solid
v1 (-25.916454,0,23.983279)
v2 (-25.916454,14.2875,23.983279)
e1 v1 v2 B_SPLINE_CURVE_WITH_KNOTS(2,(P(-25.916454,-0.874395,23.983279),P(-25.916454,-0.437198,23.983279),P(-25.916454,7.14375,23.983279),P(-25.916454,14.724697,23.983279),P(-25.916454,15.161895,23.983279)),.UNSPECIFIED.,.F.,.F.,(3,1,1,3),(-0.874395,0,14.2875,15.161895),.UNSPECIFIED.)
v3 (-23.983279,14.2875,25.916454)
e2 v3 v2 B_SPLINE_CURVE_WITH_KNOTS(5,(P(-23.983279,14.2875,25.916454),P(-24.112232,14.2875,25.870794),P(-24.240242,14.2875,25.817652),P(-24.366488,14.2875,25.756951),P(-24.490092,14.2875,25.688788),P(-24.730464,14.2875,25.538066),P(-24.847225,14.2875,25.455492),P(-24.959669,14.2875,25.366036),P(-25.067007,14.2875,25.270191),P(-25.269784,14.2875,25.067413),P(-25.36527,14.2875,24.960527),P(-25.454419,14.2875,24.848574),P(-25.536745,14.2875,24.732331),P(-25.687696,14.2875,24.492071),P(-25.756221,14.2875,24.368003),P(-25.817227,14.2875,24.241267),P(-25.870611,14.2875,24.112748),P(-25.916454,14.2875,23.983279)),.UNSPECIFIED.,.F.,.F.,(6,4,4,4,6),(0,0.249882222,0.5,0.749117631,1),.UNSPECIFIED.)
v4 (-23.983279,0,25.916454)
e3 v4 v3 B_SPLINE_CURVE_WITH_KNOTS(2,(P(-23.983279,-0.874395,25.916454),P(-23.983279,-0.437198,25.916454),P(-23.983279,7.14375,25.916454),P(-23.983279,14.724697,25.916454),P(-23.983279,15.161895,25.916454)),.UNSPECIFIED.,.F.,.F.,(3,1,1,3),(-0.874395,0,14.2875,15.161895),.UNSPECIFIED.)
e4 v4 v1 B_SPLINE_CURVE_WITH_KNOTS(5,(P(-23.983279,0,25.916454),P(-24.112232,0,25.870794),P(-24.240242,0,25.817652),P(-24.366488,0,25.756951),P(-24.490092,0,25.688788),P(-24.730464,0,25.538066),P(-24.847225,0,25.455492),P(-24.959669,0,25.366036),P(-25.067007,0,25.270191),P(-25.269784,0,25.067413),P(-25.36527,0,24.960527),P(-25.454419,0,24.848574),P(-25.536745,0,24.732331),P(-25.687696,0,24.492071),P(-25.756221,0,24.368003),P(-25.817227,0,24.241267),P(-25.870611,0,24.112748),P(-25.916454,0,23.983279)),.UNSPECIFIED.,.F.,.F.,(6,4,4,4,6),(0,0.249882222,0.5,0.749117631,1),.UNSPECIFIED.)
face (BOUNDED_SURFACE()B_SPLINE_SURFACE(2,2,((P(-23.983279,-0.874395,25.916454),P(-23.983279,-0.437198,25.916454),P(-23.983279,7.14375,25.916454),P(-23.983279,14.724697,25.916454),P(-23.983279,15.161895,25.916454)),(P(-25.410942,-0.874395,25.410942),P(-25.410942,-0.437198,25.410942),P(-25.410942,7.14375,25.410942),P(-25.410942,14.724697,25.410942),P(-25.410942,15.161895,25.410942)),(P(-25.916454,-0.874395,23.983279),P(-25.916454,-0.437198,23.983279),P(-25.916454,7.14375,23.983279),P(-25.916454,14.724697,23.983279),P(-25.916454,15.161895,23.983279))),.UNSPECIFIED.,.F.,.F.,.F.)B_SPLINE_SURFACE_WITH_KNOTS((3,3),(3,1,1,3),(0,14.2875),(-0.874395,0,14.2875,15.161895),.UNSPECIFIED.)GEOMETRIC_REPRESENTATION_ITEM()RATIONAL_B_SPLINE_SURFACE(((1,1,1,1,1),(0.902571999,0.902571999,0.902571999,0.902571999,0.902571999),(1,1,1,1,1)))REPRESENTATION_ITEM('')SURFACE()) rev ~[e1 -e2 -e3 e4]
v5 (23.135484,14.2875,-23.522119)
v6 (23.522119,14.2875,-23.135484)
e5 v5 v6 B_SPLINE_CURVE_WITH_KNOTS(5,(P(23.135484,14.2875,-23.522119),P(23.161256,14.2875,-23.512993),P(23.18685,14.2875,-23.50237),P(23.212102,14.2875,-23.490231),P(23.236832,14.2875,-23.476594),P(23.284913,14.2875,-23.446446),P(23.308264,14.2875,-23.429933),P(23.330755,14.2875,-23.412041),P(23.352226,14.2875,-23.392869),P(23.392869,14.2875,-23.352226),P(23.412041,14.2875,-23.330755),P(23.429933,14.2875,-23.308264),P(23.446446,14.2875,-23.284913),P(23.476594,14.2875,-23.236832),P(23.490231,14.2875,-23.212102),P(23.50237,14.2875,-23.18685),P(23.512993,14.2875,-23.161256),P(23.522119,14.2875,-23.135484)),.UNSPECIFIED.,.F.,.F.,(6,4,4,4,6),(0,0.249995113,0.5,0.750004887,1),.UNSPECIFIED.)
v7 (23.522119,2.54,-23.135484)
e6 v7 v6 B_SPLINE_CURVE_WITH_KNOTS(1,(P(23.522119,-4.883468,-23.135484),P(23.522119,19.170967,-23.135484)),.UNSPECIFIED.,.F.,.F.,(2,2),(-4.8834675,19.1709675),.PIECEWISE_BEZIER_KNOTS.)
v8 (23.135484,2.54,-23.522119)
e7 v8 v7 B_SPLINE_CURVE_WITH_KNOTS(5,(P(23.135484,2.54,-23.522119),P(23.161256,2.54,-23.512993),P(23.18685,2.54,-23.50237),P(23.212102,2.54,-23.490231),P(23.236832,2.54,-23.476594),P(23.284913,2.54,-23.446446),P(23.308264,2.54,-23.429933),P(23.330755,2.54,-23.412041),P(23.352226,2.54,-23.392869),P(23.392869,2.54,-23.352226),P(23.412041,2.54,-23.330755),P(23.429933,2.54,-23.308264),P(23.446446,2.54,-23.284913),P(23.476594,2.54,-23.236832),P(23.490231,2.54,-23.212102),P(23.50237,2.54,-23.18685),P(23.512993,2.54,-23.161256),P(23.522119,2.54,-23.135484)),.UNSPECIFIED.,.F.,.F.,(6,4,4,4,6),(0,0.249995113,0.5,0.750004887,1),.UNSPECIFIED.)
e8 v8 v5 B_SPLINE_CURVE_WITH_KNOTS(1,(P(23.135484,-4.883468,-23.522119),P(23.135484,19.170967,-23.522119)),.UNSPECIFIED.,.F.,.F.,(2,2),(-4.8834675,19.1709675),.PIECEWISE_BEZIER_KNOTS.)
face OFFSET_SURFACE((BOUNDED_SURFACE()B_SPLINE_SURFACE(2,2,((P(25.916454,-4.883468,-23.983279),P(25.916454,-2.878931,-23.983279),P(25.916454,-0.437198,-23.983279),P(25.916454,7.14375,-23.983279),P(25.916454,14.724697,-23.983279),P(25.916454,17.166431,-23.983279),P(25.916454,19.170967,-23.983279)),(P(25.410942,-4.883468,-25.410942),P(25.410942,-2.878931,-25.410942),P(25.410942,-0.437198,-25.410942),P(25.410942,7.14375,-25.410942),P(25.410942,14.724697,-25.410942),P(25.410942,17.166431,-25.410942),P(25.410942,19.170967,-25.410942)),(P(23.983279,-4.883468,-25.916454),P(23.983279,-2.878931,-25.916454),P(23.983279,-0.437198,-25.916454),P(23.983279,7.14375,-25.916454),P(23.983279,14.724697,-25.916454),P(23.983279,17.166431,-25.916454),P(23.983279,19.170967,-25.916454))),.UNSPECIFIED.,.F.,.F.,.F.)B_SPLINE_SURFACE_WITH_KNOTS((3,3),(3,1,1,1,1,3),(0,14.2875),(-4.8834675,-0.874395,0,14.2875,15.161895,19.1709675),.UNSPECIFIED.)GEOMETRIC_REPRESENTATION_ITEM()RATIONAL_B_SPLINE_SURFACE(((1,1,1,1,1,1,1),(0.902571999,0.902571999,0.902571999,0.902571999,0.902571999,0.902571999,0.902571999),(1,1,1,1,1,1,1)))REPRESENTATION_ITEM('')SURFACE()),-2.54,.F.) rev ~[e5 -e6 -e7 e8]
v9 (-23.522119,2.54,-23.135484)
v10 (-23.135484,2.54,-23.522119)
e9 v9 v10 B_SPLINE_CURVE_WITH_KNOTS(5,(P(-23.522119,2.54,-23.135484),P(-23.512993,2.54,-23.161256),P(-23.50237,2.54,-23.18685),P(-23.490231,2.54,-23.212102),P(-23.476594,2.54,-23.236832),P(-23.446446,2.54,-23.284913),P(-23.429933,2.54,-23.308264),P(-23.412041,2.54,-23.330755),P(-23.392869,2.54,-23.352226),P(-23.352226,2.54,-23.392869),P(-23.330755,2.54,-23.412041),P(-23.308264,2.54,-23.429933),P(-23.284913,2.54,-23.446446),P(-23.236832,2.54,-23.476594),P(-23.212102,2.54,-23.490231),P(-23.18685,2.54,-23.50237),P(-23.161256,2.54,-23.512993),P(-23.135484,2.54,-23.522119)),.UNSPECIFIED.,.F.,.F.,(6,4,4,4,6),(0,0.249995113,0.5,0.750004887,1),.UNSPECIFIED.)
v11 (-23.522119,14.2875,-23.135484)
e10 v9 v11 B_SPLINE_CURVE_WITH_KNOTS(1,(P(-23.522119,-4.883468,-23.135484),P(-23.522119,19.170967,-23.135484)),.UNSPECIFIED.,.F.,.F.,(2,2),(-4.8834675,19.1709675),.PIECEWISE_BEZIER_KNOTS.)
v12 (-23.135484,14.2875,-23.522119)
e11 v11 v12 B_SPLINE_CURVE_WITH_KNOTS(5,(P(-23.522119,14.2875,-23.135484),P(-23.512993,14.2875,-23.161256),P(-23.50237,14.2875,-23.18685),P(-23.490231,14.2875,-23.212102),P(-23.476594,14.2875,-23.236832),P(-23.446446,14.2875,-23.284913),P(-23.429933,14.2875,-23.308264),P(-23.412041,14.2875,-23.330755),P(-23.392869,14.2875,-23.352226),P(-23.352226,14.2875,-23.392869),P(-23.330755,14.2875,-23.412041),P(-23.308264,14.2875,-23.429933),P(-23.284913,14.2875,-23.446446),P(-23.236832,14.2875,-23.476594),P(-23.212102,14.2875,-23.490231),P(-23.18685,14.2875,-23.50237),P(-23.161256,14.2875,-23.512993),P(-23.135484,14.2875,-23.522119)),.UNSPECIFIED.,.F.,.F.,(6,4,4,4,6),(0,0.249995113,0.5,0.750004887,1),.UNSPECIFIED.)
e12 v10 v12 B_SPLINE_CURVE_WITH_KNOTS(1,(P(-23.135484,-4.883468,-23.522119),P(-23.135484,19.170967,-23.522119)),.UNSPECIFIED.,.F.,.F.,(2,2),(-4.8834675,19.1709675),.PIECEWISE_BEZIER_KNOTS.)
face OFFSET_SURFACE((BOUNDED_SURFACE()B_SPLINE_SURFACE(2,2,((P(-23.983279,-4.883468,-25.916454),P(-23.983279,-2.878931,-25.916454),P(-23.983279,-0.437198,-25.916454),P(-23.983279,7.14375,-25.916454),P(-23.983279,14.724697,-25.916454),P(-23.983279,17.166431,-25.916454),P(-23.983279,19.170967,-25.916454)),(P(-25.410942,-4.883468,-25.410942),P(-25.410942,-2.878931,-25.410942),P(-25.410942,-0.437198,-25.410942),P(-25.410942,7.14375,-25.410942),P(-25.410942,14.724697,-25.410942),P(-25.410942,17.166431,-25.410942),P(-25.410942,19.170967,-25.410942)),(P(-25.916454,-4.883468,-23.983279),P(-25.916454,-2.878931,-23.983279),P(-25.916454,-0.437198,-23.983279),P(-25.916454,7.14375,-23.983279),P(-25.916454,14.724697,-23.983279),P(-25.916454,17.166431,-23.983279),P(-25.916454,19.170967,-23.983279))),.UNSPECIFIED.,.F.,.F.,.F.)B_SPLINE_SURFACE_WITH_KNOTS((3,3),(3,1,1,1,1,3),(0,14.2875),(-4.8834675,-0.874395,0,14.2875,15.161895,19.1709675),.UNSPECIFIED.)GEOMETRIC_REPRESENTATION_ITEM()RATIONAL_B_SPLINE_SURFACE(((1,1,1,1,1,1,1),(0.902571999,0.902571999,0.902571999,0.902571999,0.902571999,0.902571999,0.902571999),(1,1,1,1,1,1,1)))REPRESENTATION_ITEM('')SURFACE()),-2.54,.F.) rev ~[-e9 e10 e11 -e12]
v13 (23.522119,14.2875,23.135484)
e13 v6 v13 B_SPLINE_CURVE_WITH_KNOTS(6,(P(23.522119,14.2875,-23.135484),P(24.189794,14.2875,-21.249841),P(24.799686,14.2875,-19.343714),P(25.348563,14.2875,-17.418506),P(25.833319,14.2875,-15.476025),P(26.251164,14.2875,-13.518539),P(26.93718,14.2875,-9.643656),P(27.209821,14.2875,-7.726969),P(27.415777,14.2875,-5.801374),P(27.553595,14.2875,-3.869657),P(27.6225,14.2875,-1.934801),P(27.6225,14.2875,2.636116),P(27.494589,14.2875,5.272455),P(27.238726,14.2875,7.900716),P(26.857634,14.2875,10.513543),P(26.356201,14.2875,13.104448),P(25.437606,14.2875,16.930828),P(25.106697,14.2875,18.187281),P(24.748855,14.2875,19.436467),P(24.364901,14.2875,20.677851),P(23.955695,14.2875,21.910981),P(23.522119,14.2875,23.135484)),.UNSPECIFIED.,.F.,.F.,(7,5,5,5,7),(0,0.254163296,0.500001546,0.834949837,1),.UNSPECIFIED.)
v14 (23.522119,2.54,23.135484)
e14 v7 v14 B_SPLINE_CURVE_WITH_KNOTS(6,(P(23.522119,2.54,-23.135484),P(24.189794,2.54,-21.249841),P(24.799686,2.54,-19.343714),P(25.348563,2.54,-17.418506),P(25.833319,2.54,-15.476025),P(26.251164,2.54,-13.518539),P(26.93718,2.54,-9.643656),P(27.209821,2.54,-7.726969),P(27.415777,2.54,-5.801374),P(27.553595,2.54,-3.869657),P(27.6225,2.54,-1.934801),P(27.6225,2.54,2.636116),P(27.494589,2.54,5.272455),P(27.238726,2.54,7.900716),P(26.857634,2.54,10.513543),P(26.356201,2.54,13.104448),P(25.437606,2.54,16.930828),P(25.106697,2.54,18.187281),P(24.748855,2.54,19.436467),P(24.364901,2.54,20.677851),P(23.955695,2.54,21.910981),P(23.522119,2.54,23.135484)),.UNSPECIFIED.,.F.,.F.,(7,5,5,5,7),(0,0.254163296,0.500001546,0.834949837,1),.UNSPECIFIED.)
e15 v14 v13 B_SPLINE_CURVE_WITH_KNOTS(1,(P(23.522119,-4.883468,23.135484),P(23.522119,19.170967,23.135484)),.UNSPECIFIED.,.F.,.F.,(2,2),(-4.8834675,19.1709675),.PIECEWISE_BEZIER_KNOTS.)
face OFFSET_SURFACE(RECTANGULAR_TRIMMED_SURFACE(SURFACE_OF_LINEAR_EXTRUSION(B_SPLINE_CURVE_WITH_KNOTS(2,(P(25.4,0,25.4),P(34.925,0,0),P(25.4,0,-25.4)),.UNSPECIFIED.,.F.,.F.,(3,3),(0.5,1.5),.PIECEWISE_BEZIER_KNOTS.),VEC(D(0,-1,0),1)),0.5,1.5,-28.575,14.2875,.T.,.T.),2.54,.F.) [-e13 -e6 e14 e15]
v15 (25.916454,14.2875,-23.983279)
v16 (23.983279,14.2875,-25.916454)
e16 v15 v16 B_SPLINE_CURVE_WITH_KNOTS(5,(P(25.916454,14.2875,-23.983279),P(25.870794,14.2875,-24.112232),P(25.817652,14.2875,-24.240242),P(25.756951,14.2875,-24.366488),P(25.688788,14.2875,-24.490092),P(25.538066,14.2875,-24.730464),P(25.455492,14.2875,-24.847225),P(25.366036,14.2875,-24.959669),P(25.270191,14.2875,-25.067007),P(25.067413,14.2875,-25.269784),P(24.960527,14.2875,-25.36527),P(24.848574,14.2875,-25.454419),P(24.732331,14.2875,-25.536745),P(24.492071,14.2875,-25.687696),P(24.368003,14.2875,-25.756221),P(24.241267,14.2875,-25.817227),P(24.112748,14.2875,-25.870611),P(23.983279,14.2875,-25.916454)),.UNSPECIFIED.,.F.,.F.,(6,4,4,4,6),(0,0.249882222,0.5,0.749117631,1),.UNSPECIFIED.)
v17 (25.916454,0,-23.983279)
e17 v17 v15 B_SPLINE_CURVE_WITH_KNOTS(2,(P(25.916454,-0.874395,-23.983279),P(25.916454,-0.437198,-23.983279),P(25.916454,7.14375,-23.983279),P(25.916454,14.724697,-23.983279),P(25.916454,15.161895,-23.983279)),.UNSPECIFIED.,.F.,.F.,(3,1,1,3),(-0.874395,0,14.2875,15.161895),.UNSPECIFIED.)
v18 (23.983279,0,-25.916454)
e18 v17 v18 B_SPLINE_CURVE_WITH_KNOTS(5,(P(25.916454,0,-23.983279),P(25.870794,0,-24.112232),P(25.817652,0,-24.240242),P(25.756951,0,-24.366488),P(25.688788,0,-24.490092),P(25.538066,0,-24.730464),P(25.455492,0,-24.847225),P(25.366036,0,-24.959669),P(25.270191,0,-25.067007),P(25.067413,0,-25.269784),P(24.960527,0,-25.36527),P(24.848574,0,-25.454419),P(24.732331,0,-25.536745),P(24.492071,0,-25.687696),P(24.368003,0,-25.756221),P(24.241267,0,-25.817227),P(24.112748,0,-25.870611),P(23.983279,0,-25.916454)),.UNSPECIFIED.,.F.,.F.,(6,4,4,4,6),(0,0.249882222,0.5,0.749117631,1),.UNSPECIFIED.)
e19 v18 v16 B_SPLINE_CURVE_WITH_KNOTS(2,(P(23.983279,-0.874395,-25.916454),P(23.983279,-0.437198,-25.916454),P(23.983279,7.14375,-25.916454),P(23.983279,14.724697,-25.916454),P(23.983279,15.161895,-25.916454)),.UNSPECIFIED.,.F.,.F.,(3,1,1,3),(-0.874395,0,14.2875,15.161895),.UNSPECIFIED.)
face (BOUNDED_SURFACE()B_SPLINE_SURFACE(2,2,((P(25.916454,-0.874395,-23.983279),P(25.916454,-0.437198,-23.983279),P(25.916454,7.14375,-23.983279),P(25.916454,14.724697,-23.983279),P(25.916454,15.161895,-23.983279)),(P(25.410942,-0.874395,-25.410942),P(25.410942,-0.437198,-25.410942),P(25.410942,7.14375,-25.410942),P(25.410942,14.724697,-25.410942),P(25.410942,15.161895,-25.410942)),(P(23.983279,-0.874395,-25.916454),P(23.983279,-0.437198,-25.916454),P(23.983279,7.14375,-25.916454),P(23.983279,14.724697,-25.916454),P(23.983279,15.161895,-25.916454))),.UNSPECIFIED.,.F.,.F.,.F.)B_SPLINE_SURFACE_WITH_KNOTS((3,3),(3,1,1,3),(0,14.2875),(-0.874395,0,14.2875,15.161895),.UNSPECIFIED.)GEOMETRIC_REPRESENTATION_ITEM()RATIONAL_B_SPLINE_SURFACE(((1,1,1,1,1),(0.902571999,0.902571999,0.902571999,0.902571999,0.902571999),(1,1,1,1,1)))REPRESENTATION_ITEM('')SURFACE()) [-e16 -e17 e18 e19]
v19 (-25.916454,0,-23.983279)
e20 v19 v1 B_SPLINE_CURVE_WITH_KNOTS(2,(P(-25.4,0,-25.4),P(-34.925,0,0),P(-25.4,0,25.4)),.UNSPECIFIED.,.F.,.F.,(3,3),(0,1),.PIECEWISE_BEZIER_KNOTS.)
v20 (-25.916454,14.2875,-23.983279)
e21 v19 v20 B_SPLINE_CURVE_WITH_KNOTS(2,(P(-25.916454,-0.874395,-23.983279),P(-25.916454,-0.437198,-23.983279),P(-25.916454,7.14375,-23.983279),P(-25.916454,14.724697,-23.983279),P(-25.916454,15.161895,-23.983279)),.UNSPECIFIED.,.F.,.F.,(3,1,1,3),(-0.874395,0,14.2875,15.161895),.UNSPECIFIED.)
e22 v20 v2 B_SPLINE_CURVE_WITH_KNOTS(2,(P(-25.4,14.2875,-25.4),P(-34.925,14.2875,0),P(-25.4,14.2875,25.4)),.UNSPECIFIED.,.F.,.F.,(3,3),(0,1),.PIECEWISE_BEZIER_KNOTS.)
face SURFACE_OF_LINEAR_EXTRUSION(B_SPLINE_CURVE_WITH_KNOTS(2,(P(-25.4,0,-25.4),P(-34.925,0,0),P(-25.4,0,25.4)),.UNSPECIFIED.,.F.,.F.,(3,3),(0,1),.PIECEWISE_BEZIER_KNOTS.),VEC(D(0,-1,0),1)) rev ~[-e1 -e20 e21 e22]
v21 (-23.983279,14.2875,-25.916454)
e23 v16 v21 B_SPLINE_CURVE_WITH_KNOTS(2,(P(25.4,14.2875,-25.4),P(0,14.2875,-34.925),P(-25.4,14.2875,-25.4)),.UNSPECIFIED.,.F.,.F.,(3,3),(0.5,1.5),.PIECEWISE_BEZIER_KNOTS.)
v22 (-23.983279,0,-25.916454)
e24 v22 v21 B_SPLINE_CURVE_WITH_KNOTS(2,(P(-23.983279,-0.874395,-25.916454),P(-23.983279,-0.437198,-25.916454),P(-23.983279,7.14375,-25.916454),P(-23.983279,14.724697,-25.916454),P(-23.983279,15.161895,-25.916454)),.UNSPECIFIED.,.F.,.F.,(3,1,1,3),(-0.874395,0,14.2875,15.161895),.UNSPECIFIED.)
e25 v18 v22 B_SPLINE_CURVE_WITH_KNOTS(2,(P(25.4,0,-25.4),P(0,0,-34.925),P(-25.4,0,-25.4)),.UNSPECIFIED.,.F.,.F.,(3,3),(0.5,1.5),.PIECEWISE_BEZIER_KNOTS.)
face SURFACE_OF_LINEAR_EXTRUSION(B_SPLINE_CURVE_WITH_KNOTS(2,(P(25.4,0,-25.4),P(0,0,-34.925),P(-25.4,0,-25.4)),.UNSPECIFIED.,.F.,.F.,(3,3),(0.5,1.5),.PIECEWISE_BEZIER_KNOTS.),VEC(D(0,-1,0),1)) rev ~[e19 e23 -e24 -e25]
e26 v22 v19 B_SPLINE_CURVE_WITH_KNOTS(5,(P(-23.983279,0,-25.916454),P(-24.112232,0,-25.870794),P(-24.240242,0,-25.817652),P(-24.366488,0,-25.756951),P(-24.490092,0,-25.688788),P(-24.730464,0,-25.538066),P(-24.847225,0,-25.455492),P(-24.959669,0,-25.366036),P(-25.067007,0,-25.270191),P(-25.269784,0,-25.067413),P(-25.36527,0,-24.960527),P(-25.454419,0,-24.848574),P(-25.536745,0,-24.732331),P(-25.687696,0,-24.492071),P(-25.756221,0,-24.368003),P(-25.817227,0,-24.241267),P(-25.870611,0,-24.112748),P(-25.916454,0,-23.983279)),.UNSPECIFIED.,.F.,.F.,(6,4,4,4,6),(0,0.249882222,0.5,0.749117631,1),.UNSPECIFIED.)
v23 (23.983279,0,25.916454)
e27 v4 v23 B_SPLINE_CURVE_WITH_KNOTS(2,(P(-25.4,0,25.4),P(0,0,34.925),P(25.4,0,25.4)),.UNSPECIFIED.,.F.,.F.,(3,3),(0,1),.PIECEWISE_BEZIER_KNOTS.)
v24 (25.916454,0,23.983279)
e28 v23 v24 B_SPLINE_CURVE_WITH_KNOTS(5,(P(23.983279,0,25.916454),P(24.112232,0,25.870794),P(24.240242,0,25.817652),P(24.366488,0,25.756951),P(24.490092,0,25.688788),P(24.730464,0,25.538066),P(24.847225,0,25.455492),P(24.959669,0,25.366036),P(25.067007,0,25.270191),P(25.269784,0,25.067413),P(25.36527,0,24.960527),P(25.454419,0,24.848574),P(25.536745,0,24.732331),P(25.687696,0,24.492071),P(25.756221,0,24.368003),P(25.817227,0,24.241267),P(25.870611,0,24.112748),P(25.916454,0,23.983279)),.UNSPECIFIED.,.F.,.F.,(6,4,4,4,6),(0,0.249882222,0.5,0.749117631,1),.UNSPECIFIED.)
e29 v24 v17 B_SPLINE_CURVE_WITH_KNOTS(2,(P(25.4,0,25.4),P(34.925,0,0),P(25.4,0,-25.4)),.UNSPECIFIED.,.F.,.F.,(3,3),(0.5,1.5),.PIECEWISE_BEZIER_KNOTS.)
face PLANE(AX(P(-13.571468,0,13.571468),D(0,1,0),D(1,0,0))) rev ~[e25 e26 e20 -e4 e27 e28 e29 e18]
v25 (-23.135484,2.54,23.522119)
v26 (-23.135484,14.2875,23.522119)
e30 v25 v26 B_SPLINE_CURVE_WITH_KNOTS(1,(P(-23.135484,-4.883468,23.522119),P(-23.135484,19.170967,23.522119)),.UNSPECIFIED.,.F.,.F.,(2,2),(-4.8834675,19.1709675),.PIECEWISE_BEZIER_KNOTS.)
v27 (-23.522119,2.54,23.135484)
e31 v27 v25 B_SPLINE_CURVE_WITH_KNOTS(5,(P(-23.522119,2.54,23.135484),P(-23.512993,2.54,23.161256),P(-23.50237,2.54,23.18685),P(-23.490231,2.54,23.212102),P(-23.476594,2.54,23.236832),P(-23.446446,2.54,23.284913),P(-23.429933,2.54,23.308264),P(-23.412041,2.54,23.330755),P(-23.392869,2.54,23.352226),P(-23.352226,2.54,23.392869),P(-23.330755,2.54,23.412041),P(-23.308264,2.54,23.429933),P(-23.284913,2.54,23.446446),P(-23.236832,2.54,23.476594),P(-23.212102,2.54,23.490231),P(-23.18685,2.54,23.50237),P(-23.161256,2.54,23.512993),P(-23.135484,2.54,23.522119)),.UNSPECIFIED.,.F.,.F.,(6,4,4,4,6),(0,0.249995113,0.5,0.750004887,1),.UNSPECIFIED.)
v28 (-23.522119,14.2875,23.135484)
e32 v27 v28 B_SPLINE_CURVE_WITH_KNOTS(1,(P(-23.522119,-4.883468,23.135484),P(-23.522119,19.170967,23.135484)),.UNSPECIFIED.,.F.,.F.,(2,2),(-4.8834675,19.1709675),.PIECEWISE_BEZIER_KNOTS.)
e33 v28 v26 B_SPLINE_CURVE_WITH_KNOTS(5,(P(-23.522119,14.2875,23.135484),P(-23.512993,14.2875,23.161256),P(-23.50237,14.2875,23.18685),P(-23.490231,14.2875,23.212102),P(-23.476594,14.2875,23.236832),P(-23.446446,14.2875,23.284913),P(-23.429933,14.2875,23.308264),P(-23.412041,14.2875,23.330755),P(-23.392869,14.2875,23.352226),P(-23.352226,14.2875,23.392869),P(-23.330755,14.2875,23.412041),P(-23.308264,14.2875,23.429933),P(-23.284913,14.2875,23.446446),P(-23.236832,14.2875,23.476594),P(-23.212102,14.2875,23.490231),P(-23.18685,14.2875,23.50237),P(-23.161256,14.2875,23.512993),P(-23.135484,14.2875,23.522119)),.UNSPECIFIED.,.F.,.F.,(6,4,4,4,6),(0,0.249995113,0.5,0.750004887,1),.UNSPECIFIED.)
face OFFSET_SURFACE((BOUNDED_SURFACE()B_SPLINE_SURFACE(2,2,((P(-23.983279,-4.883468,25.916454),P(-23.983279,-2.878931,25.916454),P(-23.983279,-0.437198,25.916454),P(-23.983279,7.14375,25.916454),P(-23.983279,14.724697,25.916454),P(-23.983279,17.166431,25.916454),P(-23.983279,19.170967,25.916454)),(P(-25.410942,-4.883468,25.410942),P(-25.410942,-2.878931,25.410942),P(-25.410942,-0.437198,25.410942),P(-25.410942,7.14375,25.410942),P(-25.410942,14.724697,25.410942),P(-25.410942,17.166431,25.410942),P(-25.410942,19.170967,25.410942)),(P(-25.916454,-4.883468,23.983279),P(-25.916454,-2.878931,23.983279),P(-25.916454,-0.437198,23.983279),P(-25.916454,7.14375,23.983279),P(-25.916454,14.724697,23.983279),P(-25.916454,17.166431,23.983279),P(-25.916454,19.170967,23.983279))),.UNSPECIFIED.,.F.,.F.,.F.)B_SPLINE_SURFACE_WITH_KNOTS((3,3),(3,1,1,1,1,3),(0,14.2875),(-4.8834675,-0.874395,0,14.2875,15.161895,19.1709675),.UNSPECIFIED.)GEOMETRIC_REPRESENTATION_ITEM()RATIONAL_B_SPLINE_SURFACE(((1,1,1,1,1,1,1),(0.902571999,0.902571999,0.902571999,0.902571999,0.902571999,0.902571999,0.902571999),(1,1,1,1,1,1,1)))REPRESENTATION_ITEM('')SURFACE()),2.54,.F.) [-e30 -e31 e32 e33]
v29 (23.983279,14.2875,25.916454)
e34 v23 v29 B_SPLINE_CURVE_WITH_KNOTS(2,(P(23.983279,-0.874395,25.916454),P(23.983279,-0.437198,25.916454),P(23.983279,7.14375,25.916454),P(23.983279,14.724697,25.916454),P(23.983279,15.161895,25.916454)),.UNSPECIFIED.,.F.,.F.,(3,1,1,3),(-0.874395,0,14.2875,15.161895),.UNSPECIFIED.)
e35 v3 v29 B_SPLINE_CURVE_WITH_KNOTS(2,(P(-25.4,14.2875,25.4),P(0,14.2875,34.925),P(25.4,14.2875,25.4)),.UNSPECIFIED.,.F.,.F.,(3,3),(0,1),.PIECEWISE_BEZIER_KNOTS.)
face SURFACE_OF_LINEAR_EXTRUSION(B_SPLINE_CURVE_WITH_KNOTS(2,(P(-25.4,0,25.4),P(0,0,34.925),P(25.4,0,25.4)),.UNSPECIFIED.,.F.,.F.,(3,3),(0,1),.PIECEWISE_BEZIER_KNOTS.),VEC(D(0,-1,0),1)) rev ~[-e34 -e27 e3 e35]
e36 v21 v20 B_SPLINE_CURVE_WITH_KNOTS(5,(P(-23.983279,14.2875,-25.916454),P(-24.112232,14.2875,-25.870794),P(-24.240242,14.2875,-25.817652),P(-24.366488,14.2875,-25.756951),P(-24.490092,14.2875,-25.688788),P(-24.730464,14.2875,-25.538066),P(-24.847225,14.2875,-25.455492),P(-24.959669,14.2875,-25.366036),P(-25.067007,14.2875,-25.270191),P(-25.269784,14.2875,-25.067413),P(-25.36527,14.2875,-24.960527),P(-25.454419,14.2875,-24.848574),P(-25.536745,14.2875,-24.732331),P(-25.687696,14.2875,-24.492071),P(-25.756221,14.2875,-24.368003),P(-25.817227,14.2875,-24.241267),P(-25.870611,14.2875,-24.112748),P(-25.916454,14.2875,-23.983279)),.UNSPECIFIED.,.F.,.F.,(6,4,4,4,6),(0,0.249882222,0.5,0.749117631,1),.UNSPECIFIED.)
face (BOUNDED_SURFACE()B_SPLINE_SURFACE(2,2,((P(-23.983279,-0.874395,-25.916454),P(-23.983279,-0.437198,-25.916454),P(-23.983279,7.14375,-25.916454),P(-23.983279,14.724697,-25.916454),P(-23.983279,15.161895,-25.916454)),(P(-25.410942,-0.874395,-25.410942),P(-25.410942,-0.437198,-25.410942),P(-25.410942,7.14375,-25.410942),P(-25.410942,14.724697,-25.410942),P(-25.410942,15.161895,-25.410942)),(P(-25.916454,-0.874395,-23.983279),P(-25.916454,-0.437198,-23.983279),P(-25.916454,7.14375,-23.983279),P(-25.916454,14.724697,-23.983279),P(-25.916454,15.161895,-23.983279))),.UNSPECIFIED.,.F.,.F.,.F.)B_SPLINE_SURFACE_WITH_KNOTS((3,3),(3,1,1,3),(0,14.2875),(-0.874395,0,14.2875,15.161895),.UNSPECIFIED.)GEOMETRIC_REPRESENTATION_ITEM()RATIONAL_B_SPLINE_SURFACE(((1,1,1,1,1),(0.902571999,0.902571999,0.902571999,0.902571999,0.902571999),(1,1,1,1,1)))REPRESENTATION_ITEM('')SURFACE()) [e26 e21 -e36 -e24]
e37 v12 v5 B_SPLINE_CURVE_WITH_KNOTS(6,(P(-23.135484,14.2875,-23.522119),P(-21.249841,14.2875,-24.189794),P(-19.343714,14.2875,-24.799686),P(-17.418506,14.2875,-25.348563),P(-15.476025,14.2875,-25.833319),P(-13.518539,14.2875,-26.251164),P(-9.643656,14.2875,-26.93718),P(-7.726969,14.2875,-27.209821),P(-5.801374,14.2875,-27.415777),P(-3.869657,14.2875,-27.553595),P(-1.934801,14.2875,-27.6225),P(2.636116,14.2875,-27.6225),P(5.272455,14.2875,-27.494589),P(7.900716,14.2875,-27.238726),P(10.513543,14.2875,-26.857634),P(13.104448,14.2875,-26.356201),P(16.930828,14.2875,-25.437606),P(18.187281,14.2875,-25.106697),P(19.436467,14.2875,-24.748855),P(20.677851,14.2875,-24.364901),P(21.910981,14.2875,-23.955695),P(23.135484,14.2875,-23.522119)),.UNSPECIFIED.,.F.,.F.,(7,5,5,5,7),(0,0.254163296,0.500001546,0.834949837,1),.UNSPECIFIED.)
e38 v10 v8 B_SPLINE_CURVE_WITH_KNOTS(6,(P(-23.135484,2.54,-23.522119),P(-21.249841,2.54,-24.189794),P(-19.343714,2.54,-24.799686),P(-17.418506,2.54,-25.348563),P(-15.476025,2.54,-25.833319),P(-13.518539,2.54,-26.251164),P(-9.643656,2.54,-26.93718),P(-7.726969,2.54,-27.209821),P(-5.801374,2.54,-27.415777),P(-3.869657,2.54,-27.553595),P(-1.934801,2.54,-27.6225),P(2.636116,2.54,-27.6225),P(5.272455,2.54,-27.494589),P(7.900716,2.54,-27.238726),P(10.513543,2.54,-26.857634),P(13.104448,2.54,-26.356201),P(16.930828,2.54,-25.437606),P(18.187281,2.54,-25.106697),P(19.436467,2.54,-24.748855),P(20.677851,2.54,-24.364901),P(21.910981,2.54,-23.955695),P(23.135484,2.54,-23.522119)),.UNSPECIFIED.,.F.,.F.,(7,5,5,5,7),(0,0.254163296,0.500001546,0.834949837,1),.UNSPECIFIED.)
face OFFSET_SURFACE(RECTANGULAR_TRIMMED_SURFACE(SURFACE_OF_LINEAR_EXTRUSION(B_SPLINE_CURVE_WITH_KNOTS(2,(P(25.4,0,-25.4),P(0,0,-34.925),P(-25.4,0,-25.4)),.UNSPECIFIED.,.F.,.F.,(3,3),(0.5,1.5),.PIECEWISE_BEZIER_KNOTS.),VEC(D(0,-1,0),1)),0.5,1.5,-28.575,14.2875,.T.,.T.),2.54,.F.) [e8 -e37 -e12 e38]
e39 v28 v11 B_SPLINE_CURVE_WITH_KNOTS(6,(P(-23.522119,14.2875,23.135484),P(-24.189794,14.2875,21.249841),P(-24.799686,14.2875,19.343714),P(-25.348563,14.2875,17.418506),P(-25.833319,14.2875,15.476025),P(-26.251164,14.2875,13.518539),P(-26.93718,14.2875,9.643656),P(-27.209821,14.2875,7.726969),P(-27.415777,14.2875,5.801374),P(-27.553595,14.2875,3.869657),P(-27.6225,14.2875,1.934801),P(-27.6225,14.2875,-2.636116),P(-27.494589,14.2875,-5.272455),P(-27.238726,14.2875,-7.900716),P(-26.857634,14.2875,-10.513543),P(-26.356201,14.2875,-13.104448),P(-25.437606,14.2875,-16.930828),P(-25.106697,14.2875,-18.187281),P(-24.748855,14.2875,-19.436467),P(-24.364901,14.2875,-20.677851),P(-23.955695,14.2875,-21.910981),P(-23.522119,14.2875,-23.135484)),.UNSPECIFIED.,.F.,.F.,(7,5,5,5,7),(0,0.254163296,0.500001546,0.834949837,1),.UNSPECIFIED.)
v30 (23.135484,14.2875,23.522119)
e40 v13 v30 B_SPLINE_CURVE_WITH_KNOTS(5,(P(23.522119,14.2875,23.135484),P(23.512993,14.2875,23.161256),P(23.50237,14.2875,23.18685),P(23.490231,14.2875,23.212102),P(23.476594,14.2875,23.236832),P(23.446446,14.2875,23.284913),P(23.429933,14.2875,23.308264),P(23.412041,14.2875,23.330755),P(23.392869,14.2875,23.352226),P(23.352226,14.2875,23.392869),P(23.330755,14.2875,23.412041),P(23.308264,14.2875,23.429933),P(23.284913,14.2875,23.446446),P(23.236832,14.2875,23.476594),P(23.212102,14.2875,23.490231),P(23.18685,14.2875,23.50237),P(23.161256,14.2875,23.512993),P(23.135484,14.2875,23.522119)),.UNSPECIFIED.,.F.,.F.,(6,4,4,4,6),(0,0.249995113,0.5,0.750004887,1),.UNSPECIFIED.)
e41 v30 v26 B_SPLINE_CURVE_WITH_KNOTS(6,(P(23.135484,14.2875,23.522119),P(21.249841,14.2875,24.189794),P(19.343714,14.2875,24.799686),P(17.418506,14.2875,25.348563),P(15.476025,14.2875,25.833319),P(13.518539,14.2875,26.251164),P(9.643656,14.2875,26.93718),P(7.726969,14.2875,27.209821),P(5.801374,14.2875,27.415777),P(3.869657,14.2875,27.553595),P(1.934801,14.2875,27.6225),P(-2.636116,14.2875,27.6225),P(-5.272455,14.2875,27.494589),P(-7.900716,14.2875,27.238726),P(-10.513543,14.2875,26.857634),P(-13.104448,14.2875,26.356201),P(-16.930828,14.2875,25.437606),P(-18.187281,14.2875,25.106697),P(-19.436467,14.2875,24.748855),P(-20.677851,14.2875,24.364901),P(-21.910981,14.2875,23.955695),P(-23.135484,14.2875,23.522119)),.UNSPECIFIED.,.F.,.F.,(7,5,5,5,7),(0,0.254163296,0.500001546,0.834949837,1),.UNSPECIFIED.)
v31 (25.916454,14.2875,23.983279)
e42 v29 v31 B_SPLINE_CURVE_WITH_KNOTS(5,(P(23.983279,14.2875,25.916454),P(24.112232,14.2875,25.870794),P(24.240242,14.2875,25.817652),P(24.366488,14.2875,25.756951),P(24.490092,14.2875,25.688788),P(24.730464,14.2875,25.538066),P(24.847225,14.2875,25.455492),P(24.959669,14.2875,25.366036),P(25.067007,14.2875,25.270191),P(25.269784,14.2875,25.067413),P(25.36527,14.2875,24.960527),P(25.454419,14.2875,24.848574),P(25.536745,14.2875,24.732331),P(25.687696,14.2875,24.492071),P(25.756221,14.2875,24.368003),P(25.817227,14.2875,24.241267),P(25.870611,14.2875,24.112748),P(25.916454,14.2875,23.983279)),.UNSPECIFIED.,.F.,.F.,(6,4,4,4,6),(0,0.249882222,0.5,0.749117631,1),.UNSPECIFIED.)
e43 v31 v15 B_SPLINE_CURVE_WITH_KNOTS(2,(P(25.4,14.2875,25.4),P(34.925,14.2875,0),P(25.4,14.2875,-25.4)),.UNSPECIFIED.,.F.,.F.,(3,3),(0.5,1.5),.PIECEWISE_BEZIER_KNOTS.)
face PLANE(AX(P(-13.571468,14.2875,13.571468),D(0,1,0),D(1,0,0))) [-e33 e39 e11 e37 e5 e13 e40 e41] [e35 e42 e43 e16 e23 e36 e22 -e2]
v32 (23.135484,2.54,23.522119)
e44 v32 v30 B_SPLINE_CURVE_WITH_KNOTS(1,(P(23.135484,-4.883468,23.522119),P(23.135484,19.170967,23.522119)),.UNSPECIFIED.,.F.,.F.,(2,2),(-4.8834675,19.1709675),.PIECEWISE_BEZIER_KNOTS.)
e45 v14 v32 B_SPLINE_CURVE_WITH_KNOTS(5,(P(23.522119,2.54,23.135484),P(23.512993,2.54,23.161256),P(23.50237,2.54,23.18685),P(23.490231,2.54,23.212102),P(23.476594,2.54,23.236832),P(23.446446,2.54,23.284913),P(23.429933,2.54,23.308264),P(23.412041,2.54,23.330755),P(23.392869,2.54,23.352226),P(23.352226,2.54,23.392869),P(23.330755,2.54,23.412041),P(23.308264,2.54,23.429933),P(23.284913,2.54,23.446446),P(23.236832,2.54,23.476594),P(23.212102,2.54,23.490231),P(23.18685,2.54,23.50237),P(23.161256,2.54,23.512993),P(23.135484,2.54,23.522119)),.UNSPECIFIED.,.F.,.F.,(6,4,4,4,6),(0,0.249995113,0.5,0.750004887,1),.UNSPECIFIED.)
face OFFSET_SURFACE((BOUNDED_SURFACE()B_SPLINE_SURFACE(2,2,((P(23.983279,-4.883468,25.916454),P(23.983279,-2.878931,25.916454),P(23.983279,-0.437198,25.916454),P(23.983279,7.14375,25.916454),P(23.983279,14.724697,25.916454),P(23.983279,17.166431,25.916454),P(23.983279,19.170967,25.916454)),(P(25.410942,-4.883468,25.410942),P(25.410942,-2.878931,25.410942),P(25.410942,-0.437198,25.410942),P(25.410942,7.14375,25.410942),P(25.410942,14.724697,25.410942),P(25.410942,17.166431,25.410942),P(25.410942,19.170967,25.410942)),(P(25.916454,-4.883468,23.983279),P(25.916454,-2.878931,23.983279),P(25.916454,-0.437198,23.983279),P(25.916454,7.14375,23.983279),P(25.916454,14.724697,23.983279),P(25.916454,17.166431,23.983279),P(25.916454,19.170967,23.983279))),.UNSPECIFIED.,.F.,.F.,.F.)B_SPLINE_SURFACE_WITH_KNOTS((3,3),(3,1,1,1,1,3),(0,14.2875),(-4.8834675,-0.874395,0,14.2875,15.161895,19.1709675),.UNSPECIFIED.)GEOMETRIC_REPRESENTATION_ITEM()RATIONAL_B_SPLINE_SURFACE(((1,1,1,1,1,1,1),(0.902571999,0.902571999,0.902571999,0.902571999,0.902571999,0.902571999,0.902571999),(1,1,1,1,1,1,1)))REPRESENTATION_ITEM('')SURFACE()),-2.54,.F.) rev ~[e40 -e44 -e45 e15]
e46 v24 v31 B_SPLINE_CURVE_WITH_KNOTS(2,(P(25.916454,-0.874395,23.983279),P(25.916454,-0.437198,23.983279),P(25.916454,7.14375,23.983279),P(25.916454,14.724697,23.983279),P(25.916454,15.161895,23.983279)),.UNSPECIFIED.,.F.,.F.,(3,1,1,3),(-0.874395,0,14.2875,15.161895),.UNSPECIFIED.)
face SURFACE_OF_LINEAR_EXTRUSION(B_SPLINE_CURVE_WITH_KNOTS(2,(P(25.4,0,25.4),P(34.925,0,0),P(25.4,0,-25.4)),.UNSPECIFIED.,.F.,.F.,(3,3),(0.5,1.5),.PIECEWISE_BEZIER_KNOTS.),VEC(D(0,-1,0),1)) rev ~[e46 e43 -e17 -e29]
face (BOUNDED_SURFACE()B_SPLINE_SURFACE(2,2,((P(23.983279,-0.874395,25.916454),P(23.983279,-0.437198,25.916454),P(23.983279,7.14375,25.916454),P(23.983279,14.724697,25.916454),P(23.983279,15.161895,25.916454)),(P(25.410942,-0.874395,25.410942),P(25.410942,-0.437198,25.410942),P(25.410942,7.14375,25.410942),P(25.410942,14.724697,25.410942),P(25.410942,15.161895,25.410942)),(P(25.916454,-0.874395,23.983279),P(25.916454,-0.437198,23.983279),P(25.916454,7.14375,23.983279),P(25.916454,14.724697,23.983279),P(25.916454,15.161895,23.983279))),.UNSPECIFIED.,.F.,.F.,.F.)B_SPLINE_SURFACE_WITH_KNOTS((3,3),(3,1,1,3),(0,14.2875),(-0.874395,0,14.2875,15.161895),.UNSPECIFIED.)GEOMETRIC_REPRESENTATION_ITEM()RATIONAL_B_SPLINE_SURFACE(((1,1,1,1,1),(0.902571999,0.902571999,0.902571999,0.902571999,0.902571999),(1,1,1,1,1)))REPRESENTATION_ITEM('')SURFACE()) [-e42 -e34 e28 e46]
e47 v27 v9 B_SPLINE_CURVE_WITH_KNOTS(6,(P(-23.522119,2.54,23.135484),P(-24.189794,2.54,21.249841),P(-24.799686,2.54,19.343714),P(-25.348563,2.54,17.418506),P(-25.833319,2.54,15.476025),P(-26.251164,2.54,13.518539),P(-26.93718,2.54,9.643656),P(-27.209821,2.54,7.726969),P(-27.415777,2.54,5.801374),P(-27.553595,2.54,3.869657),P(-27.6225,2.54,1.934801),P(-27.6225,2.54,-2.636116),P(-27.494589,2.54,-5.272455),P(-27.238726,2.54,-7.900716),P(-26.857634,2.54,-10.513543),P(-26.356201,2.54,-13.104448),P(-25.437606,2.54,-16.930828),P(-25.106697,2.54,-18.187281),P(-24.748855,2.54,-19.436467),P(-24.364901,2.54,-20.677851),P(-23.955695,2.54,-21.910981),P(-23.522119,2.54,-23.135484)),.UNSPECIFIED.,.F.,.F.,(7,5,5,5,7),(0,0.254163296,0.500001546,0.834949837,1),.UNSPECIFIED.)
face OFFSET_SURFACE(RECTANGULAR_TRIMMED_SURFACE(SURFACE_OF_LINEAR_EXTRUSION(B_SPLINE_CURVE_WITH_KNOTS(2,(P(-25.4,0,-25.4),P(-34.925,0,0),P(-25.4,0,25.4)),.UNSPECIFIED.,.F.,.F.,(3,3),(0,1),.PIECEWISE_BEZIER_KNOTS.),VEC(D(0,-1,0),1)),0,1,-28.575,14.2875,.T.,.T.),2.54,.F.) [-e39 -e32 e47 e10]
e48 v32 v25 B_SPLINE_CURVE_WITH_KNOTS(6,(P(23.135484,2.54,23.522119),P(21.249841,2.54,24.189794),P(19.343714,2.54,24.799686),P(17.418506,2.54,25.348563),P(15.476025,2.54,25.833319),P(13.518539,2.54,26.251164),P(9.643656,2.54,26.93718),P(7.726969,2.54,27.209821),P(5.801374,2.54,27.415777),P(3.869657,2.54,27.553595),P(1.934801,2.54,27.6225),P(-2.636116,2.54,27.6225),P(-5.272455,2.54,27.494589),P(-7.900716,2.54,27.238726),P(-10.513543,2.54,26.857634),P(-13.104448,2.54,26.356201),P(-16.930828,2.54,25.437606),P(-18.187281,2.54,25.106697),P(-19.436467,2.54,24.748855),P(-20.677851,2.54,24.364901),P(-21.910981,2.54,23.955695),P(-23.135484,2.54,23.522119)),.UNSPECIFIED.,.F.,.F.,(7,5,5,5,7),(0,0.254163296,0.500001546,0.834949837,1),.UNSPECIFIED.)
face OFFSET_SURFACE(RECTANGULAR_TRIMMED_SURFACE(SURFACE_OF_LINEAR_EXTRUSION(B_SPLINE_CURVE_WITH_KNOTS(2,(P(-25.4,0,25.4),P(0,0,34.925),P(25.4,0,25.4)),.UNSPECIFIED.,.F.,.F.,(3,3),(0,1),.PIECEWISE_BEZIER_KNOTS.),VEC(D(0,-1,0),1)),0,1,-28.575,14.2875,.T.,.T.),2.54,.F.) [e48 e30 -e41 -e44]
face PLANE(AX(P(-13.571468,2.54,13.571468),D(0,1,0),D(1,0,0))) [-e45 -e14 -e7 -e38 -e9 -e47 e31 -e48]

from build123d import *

# Parameters (mm, degrees)
BOSS_EXTRUDE1_DEPTH = 14.2875
FILLET1_R           = 3.175
SHELL1_T            = -2.54


with BuildPart() as part:
    # Sketch1 → Boss-Extrude1 (new body)
    with BuildSketch(Plane(origin=(0, 0, 0), x_dir=(1, 0, 0), z_dir=(0, 1, 0))):
        with BuildLine():
            Line((0, 0), (-30.1625, 0))
            add(Edge.make_bspline(
                [(-30.1625, 0), (-30.1625, -12.7), (-25.4, -25.4)],
                knots=[0.5, 0.5, 0.5, 1, 1, 1], degree=2))
            add(Edge.make_bspline(
                [(-25.4, -25.4), (-12.7, -30.1625), (0, -30.1625)],
                knots=[0, 0, 0, 0.5, 0.5, 0.5], degree=2))
            Line((0, -30.1625), (0, 0))
        make_face()
        with BuildLine():
            add(Edge.make_bspline(
                [(-25.4, 25.4), (-30.1625, 12.7), (-30.1625, 0)],
                knots=[0, 0, 0, 0.5, 0.5, 0.5], degree=2))
            Line((-30.1625, 0), (0, 0))
            Line((0, 0), (0, 30.1625))
            add(Edge.make_bspline(
                [(-25.4, 25.4), (-12.7, 30.1625), (0, 30.1625)],
                knots=[0, 0, 0, 0.5, 0.5, 0.5], degree=2))
        make_face()
        with BuildLine():
            Line((0, 30.1625), (0, 0))
            Line((0, 0), (30.1625, 0))
            add(Edge.make_bspline(
                [(25.4, 25.4), (30.1625, 12.7), (30.1625, 0)],
                knots=[0, 0, 0, 0.5, 0.5, 0.5], degree=2))
            add(Edge.make_bspline(
                [(0, 30.1625), (12.7, 30.1625), (25.4, 25.4)],
                knots=[0.5, 0.5, 0.5, 1, 1, 1], degree=2))
        make_face()
        with BuildLine():
            Line((30.1625, 0), (0, 0))
            Line((0, 0), (0, -30.1625))
            add(Edge.make_bspline(
                [(0, -30.1625), (12.7, -30.1625), (25.4, -25.4)],
                knots=[0.5, 0.5, 0.5, 1, 1, 1], degree=2))
            add(Edge.make_bspline(
                [(30.1625, 0), (30.1625, -12.7), (25.4, -25.4)],
                knots=[0.5, 0.5, 0.5, 1, 1, 1], degree=2))
        make_face()
    extrude(amount=BOSS_EXTRUDE1_DEPTH)

    # Fillet1
    fillet1_edges = [part.edges().sort_by_distance(p)[0] for p in [
        (-25.4, 7.14375, -25.4),
        (25.4, 7.14375, -25.4),
        (-25.4, 7.14375, 25.4),
        (25.4, 7.14375, 25.4),
    ]]
    fillet(fillet1_edges, radius=FILLET1_R)

    # Shell1
    shell1_openings = [part.faces().sort_by_distance(p)[0] for p in [
        (0, 14.2875, 0),
    ]]
    offset(amount=SHELL1_T, openings=shell1_openings, kind=Kind.INTERSECTION)


solid = part.part
